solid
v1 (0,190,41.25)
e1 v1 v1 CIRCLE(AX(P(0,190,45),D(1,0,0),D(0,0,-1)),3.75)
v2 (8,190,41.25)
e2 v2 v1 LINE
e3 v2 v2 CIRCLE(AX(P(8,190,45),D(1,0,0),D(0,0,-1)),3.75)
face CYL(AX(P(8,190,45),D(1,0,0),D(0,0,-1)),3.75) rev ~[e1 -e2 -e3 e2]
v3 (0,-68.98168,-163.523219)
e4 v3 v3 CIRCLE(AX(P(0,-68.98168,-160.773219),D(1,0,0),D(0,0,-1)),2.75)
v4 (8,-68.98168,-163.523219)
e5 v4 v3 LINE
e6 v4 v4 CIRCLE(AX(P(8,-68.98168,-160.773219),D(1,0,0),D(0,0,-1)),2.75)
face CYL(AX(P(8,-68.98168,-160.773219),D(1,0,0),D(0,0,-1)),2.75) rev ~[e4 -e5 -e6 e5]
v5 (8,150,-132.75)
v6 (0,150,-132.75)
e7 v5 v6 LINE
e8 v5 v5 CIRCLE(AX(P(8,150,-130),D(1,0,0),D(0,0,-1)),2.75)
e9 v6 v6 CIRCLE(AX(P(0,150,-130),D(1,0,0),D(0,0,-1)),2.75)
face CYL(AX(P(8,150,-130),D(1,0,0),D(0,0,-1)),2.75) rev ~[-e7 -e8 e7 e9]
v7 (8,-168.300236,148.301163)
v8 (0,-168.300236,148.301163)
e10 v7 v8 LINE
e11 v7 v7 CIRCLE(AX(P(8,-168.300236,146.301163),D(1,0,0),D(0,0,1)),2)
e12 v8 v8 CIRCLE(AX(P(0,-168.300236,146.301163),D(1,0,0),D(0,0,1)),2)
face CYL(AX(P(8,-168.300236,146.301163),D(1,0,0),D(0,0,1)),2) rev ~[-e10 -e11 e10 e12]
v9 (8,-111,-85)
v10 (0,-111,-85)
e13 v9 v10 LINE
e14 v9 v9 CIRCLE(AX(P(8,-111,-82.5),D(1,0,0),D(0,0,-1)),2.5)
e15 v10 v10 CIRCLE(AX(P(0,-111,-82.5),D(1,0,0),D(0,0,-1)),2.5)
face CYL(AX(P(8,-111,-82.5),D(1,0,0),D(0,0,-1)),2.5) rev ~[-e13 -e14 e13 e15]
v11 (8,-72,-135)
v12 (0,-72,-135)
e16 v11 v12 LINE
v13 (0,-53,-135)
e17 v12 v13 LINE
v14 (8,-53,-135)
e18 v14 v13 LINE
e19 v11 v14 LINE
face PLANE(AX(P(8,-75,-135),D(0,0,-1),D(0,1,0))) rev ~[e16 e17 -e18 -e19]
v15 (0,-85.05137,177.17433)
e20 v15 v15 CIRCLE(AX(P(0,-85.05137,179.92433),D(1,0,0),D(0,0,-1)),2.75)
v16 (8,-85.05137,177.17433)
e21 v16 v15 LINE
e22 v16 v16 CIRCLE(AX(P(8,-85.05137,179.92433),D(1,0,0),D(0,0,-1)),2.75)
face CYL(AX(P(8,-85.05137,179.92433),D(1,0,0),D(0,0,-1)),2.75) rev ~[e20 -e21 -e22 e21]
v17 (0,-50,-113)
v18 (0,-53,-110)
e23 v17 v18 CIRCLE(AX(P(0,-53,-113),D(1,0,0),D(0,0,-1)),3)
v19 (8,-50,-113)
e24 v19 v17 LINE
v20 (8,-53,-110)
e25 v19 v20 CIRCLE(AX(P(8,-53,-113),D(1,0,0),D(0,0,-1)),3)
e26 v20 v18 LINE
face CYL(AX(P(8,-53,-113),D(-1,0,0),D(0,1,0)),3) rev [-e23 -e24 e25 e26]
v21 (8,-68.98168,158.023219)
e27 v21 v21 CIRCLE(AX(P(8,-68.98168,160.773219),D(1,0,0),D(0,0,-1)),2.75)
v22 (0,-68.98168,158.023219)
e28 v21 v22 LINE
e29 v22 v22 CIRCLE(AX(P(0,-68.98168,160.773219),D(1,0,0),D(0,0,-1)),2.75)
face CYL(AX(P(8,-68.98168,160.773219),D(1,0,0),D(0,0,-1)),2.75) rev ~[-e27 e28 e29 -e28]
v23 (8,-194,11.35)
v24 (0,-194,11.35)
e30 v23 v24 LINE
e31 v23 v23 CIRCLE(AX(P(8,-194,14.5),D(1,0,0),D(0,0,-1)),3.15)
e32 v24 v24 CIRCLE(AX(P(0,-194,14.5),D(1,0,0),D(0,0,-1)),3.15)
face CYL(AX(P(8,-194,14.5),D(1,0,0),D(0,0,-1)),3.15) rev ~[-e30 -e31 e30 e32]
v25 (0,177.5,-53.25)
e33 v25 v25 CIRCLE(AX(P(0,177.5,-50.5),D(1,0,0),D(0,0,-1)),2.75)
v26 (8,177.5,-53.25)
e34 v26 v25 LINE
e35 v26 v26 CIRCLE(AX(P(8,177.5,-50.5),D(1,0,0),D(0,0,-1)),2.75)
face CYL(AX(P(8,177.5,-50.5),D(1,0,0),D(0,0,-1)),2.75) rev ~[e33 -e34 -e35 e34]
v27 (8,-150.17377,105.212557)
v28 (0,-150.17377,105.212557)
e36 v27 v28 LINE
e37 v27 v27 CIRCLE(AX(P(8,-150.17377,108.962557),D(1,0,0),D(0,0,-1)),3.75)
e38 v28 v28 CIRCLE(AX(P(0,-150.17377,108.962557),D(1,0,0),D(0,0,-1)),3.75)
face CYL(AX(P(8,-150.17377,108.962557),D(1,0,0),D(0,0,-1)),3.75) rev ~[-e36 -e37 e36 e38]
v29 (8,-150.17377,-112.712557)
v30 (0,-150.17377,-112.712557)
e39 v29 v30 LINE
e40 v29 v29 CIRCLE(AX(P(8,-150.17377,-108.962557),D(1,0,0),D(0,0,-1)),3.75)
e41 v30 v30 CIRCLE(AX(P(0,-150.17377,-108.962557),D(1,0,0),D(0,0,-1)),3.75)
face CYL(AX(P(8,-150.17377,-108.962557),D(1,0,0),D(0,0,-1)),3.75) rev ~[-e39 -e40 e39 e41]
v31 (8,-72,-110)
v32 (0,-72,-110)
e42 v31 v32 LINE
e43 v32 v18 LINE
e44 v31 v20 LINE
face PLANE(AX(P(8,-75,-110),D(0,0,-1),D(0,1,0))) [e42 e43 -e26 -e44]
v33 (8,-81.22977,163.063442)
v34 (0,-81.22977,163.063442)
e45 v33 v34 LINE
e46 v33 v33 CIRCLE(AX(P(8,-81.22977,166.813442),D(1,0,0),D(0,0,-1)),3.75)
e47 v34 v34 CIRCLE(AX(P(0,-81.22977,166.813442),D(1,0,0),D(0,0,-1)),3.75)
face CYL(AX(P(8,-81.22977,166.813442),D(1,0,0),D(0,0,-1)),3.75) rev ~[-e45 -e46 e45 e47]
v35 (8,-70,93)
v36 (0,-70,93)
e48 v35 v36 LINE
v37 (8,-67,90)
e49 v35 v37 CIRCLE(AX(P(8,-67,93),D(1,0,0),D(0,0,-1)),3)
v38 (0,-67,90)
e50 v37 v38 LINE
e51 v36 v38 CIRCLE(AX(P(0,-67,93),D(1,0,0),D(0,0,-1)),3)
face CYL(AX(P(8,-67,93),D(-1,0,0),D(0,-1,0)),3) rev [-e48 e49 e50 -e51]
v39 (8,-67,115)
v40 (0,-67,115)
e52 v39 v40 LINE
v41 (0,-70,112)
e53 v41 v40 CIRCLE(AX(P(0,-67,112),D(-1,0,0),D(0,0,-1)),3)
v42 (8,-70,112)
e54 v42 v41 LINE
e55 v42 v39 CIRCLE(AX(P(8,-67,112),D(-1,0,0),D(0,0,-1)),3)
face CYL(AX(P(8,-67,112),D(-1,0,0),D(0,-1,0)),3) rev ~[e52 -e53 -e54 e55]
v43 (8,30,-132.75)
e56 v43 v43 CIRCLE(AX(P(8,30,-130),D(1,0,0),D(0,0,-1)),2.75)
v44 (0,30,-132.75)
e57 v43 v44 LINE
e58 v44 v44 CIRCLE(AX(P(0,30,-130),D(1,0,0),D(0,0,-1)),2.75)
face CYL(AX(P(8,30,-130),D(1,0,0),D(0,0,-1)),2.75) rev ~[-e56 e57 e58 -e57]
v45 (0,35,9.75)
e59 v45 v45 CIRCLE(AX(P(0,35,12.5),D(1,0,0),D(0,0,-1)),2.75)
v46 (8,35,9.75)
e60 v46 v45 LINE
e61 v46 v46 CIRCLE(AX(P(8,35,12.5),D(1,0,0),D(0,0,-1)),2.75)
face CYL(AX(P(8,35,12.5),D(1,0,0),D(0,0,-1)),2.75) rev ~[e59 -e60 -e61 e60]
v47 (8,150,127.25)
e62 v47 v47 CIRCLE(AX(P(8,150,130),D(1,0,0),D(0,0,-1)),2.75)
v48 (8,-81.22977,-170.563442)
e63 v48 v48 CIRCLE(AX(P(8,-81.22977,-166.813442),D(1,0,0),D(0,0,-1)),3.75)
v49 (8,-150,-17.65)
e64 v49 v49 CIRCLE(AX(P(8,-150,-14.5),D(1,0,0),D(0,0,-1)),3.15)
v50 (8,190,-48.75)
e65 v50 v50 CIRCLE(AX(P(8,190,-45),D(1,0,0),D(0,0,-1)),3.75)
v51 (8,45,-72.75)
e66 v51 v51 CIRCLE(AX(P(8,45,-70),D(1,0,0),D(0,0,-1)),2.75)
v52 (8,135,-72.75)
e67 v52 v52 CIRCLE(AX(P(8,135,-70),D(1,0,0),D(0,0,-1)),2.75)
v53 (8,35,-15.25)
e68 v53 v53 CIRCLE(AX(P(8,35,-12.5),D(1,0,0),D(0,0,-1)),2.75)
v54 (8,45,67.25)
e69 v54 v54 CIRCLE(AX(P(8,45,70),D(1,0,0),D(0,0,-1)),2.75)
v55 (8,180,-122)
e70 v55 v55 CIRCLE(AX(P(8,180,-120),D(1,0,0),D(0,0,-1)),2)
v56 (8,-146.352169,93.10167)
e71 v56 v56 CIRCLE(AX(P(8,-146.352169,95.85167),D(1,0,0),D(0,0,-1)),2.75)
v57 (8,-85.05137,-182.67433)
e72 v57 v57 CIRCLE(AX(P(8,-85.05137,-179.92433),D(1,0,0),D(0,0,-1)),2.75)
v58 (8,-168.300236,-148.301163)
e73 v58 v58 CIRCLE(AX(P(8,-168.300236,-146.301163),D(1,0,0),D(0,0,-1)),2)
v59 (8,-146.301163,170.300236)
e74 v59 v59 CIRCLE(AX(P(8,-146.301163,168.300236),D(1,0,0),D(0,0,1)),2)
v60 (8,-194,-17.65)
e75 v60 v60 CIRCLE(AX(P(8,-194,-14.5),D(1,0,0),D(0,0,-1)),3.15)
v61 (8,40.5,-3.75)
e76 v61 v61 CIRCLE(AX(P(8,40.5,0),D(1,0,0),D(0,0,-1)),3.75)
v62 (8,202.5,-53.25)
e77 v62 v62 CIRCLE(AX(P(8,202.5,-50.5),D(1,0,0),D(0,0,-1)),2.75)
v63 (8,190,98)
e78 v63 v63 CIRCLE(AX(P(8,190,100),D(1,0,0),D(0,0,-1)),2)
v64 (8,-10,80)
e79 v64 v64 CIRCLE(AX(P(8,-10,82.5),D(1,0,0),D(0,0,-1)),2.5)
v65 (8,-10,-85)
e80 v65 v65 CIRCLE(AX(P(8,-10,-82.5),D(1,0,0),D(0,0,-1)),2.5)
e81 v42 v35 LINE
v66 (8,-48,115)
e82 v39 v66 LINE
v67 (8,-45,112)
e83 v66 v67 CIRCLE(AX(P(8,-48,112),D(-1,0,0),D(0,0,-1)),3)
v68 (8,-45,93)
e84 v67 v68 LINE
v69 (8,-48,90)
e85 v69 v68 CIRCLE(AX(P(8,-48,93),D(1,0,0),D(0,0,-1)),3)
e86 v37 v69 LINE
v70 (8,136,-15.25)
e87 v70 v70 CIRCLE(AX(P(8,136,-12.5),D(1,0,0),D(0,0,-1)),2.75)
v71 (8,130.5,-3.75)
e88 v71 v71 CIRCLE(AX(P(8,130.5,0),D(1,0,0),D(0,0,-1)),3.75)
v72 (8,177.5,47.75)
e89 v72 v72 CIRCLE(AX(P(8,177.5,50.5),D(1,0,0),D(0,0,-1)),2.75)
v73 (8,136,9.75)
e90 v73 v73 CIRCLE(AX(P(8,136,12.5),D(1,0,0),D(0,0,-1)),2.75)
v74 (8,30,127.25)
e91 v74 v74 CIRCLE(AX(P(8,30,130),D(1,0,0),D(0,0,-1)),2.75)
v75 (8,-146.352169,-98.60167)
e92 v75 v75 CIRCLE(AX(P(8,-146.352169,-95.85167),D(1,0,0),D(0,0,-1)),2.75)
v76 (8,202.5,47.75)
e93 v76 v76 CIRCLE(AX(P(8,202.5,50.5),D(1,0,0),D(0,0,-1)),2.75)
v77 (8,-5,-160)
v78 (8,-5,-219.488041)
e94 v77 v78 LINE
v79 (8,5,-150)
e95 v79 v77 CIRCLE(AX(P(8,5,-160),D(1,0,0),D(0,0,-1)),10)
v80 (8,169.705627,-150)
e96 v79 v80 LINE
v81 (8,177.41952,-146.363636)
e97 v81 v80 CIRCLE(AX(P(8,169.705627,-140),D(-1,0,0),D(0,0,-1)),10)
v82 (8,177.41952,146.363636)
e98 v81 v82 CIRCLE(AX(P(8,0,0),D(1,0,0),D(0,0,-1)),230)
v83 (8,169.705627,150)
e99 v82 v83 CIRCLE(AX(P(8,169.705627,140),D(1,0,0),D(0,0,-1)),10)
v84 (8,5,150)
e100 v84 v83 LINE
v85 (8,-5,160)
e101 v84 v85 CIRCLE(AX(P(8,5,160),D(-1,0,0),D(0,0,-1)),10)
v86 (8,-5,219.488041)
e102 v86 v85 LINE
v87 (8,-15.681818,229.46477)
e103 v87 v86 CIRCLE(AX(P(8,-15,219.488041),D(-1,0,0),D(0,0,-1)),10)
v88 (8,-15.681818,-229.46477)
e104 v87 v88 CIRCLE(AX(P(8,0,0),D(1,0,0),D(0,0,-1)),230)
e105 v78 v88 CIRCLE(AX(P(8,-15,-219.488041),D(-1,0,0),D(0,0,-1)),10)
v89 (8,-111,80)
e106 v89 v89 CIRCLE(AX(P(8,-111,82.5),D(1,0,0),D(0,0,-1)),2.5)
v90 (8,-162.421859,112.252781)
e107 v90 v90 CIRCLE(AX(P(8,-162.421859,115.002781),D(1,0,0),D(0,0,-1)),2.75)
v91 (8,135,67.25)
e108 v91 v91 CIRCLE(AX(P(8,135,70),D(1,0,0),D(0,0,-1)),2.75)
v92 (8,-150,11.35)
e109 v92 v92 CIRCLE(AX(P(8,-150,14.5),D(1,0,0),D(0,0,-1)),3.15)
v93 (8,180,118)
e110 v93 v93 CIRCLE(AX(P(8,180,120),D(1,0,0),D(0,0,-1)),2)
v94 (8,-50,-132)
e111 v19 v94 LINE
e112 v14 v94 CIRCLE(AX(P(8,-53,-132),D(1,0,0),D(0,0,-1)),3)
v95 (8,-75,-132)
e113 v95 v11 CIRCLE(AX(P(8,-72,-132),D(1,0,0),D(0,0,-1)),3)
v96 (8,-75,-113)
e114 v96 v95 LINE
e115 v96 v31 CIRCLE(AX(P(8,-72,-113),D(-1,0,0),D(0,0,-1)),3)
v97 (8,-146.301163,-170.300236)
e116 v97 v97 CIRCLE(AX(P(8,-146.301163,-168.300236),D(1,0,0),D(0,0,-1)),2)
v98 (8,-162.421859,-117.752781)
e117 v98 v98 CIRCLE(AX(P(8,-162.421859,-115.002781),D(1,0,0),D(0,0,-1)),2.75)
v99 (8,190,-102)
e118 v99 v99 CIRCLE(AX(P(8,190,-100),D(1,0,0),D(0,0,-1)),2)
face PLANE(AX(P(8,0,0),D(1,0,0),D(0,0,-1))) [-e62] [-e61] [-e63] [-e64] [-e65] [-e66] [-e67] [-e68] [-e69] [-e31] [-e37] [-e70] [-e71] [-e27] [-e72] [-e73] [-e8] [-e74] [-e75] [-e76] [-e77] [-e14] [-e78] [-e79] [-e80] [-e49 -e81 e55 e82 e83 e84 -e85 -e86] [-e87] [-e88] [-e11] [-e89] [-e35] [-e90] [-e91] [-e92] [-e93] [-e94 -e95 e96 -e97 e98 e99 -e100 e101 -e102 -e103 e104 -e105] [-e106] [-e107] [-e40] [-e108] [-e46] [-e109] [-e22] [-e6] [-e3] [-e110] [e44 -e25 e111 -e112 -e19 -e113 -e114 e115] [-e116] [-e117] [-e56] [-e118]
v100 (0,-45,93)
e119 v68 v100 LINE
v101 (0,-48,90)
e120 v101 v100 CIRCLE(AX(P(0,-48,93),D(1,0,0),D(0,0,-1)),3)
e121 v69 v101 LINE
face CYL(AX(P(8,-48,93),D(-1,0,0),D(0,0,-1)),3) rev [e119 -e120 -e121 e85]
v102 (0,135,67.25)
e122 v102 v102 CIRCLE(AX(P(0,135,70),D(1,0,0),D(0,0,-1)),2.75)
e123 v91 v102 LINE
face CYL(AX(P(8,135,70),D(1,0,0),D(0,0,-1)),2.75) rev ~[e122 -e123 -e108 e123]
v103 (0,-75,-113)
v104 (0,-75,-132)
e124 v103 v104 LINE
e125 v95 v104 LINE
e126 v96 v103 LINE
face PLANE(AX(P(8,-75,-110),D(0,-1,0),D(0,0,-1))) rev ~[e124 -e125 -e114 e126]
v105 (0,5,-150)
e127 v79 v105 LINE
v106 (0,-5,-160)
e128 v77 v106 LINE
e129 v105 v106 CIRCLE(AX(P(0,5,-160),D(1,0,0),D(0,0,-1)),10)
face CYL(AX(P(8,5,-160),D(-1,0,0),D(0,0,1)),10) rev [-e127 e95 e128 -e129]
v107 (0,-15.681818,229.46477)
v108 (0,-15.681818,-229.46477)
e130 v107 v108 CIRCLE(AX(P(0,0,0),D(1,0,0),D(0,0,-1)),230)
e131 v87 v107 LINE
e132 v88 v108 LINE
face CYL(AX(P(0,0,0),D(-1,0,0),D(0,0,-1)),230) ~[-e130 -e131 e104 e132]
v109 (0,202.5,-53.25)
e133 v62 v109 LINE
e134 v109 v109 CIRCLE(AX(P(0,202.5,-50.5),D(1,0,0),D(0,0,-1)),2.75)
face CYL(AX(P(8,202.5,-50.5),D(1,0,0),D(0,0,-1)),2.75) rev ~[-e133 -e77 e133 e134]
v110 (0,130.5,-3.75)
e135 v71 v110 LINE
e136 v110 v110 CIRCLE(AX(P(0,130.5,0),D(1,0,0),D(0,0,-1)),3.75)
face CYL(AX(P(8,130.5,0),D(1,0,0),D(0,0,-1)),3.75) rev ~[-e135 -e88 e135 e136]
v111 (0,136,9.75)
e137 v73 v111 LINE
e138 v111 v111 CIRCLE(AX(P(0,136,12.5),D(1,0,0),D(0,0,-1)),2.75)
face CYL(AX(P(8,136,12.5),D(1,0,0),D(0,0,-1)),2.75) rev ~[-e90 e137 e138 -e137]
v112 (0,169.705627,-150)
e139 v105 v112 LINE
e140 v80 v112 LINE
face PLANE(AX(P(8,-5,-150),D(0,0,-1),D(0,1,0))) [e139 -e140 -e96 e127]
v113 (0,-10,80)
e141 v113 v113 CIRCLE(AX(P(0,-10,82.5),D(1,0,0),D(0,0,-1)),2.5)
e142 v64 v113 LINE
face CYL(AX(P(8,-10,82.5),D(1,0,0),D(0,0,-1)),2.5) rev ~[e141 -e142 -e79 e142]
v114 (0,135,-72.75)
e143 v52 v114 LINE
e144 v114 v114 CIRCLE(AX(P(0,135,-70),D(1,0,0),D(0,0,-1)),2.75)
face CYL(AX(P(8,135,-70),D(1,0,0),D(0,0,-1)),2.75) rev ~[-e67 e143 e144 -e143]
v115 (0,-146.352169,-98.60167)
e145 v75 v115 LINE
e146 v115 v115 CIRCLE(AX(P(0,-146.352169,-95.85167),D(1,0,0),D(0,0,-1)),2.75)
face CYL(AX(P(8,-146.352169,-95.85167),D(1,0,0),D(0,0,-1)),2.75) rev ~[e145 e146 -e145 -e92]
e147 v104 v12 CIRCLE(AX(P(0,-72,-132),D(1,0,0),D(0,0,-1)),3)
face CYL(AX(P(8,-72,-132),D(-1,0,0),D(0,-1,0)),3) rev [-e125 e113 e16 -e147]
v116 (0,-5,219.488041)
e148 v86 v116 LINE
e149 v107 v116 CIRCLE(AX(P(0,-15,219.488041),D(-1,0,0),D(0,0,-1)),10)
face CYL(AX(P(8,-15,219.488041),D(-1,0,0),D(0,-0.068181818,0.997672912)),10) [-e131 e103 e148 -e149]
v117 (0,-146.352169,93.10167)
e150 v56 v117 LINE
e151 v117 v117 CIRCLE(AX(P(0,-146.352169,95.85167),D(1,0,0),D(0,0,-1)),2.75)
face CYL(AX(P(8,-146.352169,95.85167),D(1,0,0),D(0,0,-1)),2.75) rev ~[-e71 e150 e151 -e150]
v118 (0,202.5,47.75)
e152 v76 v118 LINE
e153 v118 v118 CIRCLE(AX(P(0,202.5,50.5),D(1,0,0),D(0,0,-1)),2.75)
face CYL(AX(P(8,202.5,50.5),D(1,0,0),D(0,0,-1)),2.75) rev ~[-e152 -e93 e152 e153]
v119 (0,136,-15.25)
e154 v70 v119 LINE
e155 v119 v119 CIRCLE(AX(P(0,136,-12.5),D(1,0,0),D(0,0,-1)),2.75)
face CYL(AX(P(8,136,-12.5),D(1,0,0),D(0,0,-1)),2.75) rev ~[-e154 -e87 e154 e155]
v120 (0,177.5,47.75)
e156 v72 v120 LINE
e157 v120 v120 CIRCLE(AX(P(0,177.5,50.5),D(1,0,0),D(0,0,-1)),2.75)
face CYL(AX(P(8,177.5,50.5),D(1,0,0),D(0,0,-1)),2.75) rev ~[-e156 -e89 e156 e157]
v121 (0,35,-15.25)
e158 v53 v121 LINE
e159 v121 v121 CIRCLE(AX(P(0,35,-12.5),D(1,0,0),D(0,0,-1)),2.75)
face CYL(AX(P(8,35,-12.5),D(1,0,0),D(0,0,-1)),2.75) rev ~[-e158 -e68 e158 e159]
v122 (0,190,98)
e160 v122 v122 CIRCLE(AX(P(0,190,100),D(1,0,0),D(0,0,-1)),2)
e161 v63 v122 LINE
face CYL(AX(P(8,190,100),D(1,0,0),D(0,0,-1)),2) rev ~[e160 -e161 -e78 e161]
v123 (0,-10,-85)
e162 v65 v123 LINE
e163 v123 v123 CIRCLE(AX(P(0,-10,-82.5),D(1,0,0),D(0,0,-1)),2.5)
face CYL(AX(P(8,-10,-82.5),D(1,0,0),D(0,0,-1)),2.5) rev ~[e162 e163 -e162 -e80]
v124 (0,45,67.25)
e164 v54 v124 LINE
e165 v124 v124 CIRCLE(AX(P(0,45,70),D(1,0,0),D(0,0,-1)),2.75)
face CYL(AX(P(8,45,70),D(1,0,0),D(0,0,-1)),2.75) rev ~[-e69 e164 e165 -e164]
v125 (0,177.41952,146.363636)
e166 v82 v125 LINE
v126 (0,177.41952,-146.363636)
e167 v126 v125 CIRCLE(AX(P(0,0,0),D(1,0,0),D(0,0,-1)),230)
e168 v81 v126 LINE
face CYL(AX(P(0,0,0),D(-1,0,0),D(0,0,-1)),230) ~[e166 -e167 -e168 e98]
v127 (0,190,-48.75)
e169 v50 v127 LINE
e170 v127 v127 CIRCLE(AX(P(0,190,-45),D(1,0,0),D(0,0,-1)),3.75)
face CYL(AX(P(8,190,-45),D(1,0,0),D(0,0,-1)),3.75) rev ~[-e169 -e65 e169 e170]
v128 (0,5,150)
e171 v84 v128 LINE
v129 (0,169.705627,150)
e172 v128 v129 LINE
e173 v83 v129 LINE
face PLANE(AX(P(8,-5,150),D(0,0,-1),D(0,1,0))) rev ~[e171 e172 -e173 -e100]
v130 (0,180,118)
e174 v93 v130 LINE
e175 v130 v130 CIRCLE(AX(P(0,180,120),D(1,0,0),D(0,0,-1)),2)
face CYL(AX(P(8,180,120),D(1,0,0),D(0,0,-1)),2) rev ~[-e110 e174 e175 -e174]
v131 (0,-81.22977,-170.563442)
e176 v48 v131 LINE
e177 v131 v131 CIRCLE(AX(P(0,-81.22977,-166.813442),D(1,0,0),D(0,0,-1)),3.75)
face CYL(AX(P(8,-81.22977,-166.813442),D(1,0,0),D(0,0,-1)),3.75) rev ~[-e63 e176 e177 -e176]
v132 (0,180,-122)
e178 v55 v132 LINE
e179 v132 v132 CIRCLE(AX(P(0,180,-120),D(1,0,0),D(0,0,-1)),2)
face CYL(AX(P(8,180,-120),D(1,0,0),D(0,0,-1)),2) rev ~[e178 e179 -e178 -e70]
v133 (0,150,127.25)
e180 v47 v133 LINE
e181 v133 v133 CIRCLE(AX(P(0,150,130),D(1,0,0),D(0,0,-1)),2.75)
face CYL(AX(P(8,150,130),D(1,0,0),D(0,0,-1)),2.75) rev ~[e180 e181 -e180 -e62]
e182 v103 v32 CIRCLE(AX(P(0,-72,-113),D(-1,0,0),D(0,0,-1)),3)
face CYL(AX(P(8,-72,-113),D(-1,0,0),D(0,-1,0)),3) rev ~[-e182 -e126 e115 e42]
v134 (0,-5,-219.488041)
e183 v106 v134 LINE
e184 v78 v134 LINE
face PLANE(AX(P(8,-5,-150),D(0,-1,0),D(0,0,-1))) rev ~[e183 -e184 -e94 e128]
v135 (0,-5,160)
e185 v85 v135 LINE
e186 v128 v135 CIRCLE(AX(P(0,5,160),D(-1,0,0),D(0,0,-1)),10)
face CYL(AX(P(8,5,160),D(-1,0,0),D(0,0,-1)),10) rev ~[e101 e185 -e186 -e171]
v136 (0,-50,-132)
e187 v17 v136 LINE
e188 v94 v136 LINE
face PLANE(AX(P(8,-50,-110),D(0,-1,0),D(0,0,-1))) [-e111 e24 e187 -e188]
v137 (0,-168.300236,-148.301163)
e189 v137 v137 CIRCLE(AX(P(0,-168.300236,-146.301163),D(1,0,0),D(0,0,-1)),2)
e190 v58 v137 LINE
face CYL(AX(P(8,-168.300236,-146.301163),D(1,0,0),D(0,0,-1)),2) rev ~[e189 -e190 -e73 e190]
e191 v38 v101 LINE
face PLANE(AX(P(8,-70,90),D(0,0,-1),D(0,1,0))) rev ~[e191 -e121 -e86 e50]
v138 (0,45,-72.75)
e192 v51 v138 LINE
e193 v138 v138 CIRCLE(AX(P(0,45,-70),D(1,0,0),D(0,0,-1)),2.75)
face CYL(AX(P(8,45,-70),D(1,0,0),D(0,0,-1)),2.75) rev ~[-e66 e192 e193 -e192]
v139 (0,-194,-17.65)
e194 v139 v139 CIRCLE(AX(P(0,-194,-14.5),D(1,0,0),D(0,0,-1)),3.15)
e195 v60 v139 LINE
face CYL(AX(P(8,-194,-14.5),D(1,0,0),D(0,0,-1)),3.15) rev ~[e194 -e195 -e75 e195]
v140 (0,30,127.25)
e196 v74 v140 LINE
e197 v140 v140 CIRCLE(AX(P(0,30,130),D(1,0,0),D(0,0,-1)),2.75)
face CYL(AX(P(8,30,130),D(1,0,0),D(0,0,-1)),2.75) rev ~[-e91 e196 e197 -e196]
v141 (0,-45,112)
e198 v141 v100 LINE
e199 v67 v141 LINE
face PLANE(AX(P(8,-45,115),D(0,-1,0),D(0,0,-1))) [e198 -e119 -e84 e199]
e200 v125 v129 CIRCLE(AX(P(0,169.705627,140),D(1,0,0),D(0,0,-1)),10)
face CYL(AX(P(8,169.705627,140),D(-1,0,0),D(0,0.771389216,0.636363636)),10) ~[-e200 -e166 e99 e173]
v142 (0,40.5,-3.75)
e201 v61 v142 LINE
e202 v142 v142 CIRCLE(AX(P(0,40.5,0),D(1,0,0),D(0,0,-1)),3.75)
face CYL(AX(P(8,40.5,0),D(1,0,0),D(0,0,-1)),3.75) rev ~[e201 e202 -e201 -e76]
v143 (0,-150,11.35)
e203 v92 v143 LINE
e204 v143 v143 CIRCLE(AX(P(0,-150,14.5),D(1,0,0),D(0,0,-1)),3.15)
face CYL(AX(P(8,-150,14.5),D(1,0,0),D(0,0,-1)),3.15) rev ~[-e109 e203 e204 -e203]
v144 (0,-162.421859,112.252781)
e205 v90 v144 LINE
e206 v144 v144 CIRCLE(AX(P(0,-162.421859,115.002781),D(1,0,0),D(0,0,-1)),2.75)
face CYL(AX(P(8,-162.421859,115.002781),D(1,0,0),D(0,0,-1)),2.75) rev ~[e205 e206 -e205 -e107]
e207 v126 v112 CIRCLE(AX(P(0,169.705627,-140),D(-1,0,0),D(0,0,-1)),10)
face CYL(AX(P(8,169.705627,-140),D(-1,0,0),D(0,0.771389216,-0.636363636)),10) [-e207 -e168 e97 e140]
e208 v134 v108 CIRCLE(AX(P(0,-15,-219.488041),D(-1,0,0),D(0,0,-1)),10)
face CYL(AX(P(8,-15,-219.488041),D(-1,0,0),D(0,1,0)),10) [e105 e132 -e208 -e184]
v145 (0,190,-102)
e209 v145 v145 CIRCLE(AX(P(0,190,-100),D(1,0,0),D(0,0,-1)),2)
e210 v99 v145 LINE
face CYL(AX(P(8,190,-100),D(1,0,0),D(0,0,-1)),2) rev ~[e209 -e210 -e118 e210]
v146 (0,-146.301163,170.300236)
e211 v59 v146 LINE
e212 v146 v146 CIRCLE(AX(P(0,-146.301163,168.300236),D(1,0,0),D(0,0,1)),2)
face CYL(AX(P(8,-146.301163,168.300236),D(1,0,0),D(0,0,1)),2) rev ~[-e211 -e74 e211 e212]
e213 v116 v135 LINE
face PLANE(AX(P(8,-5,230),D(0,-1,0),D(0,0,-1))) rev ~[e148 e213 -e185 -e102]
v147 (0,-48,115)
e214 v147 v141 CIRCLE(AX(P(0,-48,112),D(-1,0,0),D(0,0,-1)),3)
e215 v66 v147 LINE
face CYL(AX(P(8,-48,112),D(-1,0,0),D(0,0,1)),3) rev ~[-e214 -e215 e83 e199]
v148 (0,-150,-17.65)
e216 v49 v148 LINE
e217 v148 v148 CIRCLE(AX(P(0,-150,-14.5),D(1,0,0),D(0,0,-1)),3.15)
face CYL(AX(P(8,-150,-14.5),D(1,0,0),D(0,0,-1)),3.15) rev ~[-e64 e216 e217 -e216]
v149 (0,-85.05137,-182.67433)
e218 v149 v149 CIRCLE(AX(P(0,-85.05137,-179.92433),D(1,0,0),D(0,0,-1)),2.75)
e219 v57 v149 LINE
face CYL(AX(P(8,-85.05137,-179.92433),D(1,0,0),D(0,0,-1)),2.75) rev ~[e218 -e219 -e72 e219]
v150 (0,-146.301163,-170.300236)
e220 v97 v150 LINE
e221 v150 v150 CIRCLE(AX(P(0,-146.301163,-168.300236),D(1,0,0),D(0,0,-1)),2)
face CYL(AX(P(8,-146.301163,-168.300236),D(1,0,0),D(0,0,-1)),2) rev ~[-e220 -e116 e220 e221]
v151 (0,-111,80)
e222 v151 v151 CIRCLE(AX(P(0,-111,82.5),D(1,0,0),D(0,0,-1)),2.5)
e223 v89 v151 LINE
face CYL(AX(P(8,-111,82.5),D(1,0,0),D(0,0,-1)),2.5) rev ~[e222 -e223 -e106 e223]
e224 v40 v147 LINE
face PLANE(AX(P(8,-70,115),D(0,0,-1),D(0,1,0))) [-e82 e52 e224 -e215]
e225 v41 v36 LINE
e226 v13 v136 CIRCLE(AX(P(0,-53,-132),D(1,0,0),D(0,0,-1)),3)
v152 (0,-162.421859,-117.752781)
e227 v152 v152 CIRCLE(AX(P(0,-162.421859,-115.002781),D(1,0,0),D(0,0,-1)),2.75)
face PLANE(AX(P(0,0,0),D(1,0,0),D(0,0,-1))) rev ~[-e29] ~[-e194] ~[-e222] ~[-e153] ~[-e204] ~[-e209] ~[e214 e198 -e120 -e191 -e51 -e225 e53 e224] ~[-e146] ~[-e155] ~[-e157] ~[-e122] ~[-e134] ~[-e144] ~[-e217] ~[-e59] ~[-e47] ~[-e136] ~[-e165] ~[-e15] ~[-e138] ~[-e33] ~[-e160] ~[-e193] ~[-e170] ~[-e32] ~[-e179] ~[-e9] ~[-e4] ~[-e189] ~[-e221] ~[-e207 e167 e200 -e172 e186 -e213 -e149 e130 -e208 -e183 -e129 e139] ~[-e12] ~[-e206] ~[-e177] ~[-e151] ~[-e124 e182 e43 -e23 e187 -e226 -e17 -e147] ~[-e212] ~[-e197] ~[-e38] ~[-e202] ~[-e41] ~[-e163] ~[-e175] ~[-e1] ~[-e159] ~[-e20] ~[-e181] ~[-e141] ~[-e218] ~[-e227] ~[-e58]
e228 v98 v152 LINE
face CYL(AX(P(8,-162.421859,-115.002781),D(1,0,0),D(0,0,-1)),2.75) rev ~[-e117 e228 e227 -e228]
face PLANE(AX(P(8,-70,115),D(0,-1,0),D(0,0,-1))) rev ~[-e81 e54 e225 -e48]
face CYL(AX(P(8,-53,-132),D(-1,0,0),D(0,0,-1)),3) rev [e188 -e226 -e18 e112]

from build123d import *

# Parameters (mm, degrees)
SKETCH_1_R           = 230
EXTRUDE_1_DEPTH      = 8
SKETCH_2_W           = 80
SKETCH_2_H           = 200
CUT_EXTRUDE_1_DEPTH  = 12
SKETCH_3_R           = 2.75
CUT_EXTRUDE_2_DEPTH  = 12
SKETCH_4_R           = 3.15
CUT_EXTRUDE_3_DEPTH  = 12
SKETCH_5_R           = 3.75
SKETCH_5_R_2         = 2.75
CUT_EXTRUDE_4_DEPTH  = 10
FILLET_1_R           = 10
SKETCH_6_W           = 25
SKETCH_6_H           = 25
CUT_EXTRUDE_5_DEPTH  = 10
SKETCH_7_R           = 2.5
CUT_EXTRUDE_6_DEPTH  = 10
SKETCH_8_W           = 25
SKETCH_8_H           = 25
CUT_EXTRUDE_7_DEPTH  = 10
FILLET_3_R           = 3
SKETCH_10_R          = 2
CUT_EXTRUDE_9_DEPTH  = 326.005785815
SKETCH_11_R          = 2
CUT_EXTRUDE_10_DEPTH = 25
FILLET_4_R           = 3


with BuildPart() as part:
    # 草图1 → 凸台-拉伸1 (new body)
    with BuildSketch(Plane(origin=(0, 0, 0), x_dir=(0, 0, -1), z_dir=(1, 0, 0))):
        Circle(SKETCH_1_R)
    extrude(amount=EXTRUDE_1_DEPTH)

    # 草图2 → 切除-拉伸1 (cut)
    with BuildSketch(Plane(origin=(8, 0, 0), x_dir=(0, 0, -1), z_dir=(1, 0, 0))):
        with Locations((-190, 95)):
            Rectangle(SKETCH_2_W, SKETCH_2_H)
        with Locations((190, 95)):
            Rectangle(SKETCH_2_W, SKETCH_2_H)
    extrude(amount=-CUT_EXTRUDE_1_DEPTH, mode=Mode.SUBTRACT)

    # 草图3 → 切除-拉伸2 (cut)
    with BuildSketch(Plane(origin=(8, 0, 0), x_dir=(0, 0, -1), z_dir=(1, 0, 0))):
        with Locations((-130, 150)):
            Circle(SKETCH_3_R)
        with Locations((-130, 30)):
            Circle(SKETCH_3_R)
        with Locations((130, 30)):
            Circle(SKETCH_3_R)
        with Locations((130, 150)):
            Circle(SKETCH_3_R)
        with Locations((-70, 135)):
            Circle(SKETCH_3_R)
        with Locations((-70, 45)):
            Circle(SKETCH_3_R)
        with Locations((70, 135)):
            Circle(SKETCH_3_R)
        with Locations((70, 45)):
            Circle(SKETCH_3_R)
    extrude(amount=-CUT_EXTRUDE_2_DEPTH, mode=Mode.SUBTRACT)

    # 草图4 → 切除-拉伸3 (cut)
    with BuildSketch(Plane(origin=(8, 0, 0), x_dir=(0, 0, -1), z_dir=(1, 0, 0))):
        with Locations((-14.5, -150)):
            Circle(SKETCH_4_R)
        with Locations((14.5, -150)):
            Circle(SKETCH_4_R)
        with Locations((14.5, -194)):
            Circle(SKETCH_4_R)
        with Locations((-14.5, -194)):
            Circle(SKETCH_4_R)
    extrude(amount=-CUT_EXTRUDE_3_DEPTH, mode=Mode.SUBTRACT)

    # 草图5 → 切除-拉伸4 (cut)
    with BuildSketch(Plane(origin=(8, 0, 0), x_dir=(0, 0, -1), z_dir=(1, 0, 0))):
        with Locations((166.813442197, -81.229769803)):
            Circle(SKETCH_5_R)
        with Locations((108.962557326, -150.173769684)):
            Circle(SKETCH_5_R)
        with Locations((-108.962557326, -150.173769684)):
            Circle(SKETCH_5_R)
        with Locations((-166.813442197, -81.229769803)):
            Circle(SKETCH_5_R)
        with Locations((-45, 190)):
            Circle(SKETCH_5_R)
        with Locations((45, 190)):
            Circle(SKETCH_5_R)
        with Locations((-12.5, 35)):
            Circle(SKETCH_5_R_2)
        with Locations((12.5, 35)):
            Circle(SKETCH_5_R_2)
        with Locations((95.851669933, -146.352169)):
            Circle(SKETCH_5_R_2)
        with Locations((160.773218512, -68.981680245)):
            Circle(SKETCH_5_R_2)
        with Locations((179.92432959, -85.051370487)):
            Circle(SKETCH_5_R_2)
        with Locations((115.002781011, -162.421859242)):
            Circle(SKETCH_5_R_2)
        with Locations((-179.92432959, -85.051370487)):
            Circle(SKETCH_5_R_2)
        with Locations((-160.773218512, -68.981680245)):
            Circle(SKETCH_5_R_2)
        with Locations((-95.851669933, -146.352169)):
            Circle(SKETCH_5_R_2)
        with Locations((-115.002781011, -162.421859242)):
            Circle(SKETCH_5_R_2)
        with Locations((50.5, 202.5)):
            Circle(SKETCH_5_R_2)
        with Locations((-50.5, 202.5)):
            Circle(SKETCH_5_R_2)
        with Locations((50.5, 177.5)):
            Circle(SKETCH_5_R_2)
        with Locations((-50.5, 177.5)):
            Circle(SKETCH_5_R_2)
        with Locations((12.5, 136)):
            Circle(SKETCH_5_R_2)
        with Locations((-12.5, 136)):
            Circle(SKETCH_5_R_2)
        with Locations((0, 130.5)):
            Circle(SKETCH_5_R)
        with Locations((0, 40.5)):
            Circle(SKETCH_5_R)
    extrude(amount=-CUT_EXTRUDE_4_DEPTH, mode=Mode.SUBTRACT)

    # 圆角1
    fillet_1_edges = [part.edges().sort_by_distance(p)[0] for p in [
        (4, 174.355957742, -150),
        (4, -5, -150),
        (4, -5, -229.945645751),
        (4, 174.355957742, 150),
        (4, -5, 229.945645751),
        (4, -5, 150),
    ]]
    fillet(fillet_1_edges, radius=FILLET_1_R)

    # 草图6 → 切除-拉伸5 (cut)
    with BuildSketch(Plane(origin=(8, 0, 0), x_dir=(0, 0, -1), z_dir=(1, 0, 0))):
        with Locations((-102.5, -57.5)):
            Rectangle(SKETCH_6_W, SKETCH_6_H)
    extrude(amount=-CUT_EXTRUDE_5_DEPTH, mode=Mode.SUBTRACT)

    # 草图7 → 切除-拉伸6 (cut)
    with BuildSketch(Plane(origin=(8, 0, 0), x_dir=(0, 0, -1), z_dir=(1, 0, 0))):
        with Locations((82.5, -10)):
            Circle(SKETCH_7_R)
        with Locations((82.5, -111)):
            Circle(SKETCH_7_R)
        with Locations((-82.5, -10)):
            Circle(SKETCH_7_R)
        with Locations((-82.5, -111)):
            Circle(SKETCH_7_R)
    extrude(amount=-CUT_EXTRUDE_6_DEPTH, mode=Mode.SUBTRACT)

    # 草图8 → 切除-拉伸7 (cut)
    with BuildSketch(Plane(origin=(8, 0, 0), x_dir=(0, 0, -1), z_dir=(1, 0, 0))):
        with Locations((122.5, -62.5)):
            Rectangle(SKETCH_8_W, SKETCH_8_H)
    extrude(amount=-CUT_EXTRUDE_7_DEPTH, mode=Mode.SUBTRACT)

    # 圆角3
    fillet_3_edges = [part.edges().sort_by_distance(p)[0] for p in [
        (4, -75, -110),
        (4, -50, -110),
        (4, -50, -135),
        (4, -75, -135),
    ]]
    fillet(fillet_3_edges, radius=FILLET_3_R)

    # 草图10 → 切除-拉伸9 (cut, through all)
    with BuildSketch(Plane(origin=(8, 0, 0), x_dir=(0, 0, -1), z_dir=(1, 0, 0))):
        with Locations((168.30023639, -146.301163465)):
            Circle(SKETCH_10_R)
        with Locations((146.301163465, -168.30023639)):
            Circle(SKETCH_10_R)
        with Locations(Location((-146.301163465, -168.30023639, 0), (0, 0, 180))):
            Circle(SKETCH_10_R)
        with Locations(Location((-168.30023639, -146.301163465, 0), (0, 0, 180))):
            Circle(SKETCH_10_R)
    extrude(amount=-CUT_EXTRUDE_9_DEPTH, mode=Mode.SUBTRACT)

    # 草图11 → 切除-拉伸10 (cut)
    with BuildSketch(Plane(origin=(8, 0, 0), x_dir=(0, 0, -1), z_dir=(1, 0, 0))):
        with Locations((100, 190)):
            Circle(SKETCH_11_R)
        with Locations((120, 180)):
            Circle(SKETCH_11_R)
        with Locations((-120, 180)):
            Circle(SKETCH_11_R)
        with Locations((-100, 190)):
            Circle(SKETCH_11_R)
    extrude(amount=-CUT_EXTRUDE_10_DEPTH, mode=Mode.SUBTRACT)

    # 圆角4
    fillet_4_edges = [part.edges().sort_by_distance(p)[0] for p in [
        (4, -70, 115),
        (4, -45, 115),
        (4, -45, 90),
        (4, -70, 90),
    ]]
    fillet(fillet_4_edges, radius=FILLET_4_R)


solid = part.part
